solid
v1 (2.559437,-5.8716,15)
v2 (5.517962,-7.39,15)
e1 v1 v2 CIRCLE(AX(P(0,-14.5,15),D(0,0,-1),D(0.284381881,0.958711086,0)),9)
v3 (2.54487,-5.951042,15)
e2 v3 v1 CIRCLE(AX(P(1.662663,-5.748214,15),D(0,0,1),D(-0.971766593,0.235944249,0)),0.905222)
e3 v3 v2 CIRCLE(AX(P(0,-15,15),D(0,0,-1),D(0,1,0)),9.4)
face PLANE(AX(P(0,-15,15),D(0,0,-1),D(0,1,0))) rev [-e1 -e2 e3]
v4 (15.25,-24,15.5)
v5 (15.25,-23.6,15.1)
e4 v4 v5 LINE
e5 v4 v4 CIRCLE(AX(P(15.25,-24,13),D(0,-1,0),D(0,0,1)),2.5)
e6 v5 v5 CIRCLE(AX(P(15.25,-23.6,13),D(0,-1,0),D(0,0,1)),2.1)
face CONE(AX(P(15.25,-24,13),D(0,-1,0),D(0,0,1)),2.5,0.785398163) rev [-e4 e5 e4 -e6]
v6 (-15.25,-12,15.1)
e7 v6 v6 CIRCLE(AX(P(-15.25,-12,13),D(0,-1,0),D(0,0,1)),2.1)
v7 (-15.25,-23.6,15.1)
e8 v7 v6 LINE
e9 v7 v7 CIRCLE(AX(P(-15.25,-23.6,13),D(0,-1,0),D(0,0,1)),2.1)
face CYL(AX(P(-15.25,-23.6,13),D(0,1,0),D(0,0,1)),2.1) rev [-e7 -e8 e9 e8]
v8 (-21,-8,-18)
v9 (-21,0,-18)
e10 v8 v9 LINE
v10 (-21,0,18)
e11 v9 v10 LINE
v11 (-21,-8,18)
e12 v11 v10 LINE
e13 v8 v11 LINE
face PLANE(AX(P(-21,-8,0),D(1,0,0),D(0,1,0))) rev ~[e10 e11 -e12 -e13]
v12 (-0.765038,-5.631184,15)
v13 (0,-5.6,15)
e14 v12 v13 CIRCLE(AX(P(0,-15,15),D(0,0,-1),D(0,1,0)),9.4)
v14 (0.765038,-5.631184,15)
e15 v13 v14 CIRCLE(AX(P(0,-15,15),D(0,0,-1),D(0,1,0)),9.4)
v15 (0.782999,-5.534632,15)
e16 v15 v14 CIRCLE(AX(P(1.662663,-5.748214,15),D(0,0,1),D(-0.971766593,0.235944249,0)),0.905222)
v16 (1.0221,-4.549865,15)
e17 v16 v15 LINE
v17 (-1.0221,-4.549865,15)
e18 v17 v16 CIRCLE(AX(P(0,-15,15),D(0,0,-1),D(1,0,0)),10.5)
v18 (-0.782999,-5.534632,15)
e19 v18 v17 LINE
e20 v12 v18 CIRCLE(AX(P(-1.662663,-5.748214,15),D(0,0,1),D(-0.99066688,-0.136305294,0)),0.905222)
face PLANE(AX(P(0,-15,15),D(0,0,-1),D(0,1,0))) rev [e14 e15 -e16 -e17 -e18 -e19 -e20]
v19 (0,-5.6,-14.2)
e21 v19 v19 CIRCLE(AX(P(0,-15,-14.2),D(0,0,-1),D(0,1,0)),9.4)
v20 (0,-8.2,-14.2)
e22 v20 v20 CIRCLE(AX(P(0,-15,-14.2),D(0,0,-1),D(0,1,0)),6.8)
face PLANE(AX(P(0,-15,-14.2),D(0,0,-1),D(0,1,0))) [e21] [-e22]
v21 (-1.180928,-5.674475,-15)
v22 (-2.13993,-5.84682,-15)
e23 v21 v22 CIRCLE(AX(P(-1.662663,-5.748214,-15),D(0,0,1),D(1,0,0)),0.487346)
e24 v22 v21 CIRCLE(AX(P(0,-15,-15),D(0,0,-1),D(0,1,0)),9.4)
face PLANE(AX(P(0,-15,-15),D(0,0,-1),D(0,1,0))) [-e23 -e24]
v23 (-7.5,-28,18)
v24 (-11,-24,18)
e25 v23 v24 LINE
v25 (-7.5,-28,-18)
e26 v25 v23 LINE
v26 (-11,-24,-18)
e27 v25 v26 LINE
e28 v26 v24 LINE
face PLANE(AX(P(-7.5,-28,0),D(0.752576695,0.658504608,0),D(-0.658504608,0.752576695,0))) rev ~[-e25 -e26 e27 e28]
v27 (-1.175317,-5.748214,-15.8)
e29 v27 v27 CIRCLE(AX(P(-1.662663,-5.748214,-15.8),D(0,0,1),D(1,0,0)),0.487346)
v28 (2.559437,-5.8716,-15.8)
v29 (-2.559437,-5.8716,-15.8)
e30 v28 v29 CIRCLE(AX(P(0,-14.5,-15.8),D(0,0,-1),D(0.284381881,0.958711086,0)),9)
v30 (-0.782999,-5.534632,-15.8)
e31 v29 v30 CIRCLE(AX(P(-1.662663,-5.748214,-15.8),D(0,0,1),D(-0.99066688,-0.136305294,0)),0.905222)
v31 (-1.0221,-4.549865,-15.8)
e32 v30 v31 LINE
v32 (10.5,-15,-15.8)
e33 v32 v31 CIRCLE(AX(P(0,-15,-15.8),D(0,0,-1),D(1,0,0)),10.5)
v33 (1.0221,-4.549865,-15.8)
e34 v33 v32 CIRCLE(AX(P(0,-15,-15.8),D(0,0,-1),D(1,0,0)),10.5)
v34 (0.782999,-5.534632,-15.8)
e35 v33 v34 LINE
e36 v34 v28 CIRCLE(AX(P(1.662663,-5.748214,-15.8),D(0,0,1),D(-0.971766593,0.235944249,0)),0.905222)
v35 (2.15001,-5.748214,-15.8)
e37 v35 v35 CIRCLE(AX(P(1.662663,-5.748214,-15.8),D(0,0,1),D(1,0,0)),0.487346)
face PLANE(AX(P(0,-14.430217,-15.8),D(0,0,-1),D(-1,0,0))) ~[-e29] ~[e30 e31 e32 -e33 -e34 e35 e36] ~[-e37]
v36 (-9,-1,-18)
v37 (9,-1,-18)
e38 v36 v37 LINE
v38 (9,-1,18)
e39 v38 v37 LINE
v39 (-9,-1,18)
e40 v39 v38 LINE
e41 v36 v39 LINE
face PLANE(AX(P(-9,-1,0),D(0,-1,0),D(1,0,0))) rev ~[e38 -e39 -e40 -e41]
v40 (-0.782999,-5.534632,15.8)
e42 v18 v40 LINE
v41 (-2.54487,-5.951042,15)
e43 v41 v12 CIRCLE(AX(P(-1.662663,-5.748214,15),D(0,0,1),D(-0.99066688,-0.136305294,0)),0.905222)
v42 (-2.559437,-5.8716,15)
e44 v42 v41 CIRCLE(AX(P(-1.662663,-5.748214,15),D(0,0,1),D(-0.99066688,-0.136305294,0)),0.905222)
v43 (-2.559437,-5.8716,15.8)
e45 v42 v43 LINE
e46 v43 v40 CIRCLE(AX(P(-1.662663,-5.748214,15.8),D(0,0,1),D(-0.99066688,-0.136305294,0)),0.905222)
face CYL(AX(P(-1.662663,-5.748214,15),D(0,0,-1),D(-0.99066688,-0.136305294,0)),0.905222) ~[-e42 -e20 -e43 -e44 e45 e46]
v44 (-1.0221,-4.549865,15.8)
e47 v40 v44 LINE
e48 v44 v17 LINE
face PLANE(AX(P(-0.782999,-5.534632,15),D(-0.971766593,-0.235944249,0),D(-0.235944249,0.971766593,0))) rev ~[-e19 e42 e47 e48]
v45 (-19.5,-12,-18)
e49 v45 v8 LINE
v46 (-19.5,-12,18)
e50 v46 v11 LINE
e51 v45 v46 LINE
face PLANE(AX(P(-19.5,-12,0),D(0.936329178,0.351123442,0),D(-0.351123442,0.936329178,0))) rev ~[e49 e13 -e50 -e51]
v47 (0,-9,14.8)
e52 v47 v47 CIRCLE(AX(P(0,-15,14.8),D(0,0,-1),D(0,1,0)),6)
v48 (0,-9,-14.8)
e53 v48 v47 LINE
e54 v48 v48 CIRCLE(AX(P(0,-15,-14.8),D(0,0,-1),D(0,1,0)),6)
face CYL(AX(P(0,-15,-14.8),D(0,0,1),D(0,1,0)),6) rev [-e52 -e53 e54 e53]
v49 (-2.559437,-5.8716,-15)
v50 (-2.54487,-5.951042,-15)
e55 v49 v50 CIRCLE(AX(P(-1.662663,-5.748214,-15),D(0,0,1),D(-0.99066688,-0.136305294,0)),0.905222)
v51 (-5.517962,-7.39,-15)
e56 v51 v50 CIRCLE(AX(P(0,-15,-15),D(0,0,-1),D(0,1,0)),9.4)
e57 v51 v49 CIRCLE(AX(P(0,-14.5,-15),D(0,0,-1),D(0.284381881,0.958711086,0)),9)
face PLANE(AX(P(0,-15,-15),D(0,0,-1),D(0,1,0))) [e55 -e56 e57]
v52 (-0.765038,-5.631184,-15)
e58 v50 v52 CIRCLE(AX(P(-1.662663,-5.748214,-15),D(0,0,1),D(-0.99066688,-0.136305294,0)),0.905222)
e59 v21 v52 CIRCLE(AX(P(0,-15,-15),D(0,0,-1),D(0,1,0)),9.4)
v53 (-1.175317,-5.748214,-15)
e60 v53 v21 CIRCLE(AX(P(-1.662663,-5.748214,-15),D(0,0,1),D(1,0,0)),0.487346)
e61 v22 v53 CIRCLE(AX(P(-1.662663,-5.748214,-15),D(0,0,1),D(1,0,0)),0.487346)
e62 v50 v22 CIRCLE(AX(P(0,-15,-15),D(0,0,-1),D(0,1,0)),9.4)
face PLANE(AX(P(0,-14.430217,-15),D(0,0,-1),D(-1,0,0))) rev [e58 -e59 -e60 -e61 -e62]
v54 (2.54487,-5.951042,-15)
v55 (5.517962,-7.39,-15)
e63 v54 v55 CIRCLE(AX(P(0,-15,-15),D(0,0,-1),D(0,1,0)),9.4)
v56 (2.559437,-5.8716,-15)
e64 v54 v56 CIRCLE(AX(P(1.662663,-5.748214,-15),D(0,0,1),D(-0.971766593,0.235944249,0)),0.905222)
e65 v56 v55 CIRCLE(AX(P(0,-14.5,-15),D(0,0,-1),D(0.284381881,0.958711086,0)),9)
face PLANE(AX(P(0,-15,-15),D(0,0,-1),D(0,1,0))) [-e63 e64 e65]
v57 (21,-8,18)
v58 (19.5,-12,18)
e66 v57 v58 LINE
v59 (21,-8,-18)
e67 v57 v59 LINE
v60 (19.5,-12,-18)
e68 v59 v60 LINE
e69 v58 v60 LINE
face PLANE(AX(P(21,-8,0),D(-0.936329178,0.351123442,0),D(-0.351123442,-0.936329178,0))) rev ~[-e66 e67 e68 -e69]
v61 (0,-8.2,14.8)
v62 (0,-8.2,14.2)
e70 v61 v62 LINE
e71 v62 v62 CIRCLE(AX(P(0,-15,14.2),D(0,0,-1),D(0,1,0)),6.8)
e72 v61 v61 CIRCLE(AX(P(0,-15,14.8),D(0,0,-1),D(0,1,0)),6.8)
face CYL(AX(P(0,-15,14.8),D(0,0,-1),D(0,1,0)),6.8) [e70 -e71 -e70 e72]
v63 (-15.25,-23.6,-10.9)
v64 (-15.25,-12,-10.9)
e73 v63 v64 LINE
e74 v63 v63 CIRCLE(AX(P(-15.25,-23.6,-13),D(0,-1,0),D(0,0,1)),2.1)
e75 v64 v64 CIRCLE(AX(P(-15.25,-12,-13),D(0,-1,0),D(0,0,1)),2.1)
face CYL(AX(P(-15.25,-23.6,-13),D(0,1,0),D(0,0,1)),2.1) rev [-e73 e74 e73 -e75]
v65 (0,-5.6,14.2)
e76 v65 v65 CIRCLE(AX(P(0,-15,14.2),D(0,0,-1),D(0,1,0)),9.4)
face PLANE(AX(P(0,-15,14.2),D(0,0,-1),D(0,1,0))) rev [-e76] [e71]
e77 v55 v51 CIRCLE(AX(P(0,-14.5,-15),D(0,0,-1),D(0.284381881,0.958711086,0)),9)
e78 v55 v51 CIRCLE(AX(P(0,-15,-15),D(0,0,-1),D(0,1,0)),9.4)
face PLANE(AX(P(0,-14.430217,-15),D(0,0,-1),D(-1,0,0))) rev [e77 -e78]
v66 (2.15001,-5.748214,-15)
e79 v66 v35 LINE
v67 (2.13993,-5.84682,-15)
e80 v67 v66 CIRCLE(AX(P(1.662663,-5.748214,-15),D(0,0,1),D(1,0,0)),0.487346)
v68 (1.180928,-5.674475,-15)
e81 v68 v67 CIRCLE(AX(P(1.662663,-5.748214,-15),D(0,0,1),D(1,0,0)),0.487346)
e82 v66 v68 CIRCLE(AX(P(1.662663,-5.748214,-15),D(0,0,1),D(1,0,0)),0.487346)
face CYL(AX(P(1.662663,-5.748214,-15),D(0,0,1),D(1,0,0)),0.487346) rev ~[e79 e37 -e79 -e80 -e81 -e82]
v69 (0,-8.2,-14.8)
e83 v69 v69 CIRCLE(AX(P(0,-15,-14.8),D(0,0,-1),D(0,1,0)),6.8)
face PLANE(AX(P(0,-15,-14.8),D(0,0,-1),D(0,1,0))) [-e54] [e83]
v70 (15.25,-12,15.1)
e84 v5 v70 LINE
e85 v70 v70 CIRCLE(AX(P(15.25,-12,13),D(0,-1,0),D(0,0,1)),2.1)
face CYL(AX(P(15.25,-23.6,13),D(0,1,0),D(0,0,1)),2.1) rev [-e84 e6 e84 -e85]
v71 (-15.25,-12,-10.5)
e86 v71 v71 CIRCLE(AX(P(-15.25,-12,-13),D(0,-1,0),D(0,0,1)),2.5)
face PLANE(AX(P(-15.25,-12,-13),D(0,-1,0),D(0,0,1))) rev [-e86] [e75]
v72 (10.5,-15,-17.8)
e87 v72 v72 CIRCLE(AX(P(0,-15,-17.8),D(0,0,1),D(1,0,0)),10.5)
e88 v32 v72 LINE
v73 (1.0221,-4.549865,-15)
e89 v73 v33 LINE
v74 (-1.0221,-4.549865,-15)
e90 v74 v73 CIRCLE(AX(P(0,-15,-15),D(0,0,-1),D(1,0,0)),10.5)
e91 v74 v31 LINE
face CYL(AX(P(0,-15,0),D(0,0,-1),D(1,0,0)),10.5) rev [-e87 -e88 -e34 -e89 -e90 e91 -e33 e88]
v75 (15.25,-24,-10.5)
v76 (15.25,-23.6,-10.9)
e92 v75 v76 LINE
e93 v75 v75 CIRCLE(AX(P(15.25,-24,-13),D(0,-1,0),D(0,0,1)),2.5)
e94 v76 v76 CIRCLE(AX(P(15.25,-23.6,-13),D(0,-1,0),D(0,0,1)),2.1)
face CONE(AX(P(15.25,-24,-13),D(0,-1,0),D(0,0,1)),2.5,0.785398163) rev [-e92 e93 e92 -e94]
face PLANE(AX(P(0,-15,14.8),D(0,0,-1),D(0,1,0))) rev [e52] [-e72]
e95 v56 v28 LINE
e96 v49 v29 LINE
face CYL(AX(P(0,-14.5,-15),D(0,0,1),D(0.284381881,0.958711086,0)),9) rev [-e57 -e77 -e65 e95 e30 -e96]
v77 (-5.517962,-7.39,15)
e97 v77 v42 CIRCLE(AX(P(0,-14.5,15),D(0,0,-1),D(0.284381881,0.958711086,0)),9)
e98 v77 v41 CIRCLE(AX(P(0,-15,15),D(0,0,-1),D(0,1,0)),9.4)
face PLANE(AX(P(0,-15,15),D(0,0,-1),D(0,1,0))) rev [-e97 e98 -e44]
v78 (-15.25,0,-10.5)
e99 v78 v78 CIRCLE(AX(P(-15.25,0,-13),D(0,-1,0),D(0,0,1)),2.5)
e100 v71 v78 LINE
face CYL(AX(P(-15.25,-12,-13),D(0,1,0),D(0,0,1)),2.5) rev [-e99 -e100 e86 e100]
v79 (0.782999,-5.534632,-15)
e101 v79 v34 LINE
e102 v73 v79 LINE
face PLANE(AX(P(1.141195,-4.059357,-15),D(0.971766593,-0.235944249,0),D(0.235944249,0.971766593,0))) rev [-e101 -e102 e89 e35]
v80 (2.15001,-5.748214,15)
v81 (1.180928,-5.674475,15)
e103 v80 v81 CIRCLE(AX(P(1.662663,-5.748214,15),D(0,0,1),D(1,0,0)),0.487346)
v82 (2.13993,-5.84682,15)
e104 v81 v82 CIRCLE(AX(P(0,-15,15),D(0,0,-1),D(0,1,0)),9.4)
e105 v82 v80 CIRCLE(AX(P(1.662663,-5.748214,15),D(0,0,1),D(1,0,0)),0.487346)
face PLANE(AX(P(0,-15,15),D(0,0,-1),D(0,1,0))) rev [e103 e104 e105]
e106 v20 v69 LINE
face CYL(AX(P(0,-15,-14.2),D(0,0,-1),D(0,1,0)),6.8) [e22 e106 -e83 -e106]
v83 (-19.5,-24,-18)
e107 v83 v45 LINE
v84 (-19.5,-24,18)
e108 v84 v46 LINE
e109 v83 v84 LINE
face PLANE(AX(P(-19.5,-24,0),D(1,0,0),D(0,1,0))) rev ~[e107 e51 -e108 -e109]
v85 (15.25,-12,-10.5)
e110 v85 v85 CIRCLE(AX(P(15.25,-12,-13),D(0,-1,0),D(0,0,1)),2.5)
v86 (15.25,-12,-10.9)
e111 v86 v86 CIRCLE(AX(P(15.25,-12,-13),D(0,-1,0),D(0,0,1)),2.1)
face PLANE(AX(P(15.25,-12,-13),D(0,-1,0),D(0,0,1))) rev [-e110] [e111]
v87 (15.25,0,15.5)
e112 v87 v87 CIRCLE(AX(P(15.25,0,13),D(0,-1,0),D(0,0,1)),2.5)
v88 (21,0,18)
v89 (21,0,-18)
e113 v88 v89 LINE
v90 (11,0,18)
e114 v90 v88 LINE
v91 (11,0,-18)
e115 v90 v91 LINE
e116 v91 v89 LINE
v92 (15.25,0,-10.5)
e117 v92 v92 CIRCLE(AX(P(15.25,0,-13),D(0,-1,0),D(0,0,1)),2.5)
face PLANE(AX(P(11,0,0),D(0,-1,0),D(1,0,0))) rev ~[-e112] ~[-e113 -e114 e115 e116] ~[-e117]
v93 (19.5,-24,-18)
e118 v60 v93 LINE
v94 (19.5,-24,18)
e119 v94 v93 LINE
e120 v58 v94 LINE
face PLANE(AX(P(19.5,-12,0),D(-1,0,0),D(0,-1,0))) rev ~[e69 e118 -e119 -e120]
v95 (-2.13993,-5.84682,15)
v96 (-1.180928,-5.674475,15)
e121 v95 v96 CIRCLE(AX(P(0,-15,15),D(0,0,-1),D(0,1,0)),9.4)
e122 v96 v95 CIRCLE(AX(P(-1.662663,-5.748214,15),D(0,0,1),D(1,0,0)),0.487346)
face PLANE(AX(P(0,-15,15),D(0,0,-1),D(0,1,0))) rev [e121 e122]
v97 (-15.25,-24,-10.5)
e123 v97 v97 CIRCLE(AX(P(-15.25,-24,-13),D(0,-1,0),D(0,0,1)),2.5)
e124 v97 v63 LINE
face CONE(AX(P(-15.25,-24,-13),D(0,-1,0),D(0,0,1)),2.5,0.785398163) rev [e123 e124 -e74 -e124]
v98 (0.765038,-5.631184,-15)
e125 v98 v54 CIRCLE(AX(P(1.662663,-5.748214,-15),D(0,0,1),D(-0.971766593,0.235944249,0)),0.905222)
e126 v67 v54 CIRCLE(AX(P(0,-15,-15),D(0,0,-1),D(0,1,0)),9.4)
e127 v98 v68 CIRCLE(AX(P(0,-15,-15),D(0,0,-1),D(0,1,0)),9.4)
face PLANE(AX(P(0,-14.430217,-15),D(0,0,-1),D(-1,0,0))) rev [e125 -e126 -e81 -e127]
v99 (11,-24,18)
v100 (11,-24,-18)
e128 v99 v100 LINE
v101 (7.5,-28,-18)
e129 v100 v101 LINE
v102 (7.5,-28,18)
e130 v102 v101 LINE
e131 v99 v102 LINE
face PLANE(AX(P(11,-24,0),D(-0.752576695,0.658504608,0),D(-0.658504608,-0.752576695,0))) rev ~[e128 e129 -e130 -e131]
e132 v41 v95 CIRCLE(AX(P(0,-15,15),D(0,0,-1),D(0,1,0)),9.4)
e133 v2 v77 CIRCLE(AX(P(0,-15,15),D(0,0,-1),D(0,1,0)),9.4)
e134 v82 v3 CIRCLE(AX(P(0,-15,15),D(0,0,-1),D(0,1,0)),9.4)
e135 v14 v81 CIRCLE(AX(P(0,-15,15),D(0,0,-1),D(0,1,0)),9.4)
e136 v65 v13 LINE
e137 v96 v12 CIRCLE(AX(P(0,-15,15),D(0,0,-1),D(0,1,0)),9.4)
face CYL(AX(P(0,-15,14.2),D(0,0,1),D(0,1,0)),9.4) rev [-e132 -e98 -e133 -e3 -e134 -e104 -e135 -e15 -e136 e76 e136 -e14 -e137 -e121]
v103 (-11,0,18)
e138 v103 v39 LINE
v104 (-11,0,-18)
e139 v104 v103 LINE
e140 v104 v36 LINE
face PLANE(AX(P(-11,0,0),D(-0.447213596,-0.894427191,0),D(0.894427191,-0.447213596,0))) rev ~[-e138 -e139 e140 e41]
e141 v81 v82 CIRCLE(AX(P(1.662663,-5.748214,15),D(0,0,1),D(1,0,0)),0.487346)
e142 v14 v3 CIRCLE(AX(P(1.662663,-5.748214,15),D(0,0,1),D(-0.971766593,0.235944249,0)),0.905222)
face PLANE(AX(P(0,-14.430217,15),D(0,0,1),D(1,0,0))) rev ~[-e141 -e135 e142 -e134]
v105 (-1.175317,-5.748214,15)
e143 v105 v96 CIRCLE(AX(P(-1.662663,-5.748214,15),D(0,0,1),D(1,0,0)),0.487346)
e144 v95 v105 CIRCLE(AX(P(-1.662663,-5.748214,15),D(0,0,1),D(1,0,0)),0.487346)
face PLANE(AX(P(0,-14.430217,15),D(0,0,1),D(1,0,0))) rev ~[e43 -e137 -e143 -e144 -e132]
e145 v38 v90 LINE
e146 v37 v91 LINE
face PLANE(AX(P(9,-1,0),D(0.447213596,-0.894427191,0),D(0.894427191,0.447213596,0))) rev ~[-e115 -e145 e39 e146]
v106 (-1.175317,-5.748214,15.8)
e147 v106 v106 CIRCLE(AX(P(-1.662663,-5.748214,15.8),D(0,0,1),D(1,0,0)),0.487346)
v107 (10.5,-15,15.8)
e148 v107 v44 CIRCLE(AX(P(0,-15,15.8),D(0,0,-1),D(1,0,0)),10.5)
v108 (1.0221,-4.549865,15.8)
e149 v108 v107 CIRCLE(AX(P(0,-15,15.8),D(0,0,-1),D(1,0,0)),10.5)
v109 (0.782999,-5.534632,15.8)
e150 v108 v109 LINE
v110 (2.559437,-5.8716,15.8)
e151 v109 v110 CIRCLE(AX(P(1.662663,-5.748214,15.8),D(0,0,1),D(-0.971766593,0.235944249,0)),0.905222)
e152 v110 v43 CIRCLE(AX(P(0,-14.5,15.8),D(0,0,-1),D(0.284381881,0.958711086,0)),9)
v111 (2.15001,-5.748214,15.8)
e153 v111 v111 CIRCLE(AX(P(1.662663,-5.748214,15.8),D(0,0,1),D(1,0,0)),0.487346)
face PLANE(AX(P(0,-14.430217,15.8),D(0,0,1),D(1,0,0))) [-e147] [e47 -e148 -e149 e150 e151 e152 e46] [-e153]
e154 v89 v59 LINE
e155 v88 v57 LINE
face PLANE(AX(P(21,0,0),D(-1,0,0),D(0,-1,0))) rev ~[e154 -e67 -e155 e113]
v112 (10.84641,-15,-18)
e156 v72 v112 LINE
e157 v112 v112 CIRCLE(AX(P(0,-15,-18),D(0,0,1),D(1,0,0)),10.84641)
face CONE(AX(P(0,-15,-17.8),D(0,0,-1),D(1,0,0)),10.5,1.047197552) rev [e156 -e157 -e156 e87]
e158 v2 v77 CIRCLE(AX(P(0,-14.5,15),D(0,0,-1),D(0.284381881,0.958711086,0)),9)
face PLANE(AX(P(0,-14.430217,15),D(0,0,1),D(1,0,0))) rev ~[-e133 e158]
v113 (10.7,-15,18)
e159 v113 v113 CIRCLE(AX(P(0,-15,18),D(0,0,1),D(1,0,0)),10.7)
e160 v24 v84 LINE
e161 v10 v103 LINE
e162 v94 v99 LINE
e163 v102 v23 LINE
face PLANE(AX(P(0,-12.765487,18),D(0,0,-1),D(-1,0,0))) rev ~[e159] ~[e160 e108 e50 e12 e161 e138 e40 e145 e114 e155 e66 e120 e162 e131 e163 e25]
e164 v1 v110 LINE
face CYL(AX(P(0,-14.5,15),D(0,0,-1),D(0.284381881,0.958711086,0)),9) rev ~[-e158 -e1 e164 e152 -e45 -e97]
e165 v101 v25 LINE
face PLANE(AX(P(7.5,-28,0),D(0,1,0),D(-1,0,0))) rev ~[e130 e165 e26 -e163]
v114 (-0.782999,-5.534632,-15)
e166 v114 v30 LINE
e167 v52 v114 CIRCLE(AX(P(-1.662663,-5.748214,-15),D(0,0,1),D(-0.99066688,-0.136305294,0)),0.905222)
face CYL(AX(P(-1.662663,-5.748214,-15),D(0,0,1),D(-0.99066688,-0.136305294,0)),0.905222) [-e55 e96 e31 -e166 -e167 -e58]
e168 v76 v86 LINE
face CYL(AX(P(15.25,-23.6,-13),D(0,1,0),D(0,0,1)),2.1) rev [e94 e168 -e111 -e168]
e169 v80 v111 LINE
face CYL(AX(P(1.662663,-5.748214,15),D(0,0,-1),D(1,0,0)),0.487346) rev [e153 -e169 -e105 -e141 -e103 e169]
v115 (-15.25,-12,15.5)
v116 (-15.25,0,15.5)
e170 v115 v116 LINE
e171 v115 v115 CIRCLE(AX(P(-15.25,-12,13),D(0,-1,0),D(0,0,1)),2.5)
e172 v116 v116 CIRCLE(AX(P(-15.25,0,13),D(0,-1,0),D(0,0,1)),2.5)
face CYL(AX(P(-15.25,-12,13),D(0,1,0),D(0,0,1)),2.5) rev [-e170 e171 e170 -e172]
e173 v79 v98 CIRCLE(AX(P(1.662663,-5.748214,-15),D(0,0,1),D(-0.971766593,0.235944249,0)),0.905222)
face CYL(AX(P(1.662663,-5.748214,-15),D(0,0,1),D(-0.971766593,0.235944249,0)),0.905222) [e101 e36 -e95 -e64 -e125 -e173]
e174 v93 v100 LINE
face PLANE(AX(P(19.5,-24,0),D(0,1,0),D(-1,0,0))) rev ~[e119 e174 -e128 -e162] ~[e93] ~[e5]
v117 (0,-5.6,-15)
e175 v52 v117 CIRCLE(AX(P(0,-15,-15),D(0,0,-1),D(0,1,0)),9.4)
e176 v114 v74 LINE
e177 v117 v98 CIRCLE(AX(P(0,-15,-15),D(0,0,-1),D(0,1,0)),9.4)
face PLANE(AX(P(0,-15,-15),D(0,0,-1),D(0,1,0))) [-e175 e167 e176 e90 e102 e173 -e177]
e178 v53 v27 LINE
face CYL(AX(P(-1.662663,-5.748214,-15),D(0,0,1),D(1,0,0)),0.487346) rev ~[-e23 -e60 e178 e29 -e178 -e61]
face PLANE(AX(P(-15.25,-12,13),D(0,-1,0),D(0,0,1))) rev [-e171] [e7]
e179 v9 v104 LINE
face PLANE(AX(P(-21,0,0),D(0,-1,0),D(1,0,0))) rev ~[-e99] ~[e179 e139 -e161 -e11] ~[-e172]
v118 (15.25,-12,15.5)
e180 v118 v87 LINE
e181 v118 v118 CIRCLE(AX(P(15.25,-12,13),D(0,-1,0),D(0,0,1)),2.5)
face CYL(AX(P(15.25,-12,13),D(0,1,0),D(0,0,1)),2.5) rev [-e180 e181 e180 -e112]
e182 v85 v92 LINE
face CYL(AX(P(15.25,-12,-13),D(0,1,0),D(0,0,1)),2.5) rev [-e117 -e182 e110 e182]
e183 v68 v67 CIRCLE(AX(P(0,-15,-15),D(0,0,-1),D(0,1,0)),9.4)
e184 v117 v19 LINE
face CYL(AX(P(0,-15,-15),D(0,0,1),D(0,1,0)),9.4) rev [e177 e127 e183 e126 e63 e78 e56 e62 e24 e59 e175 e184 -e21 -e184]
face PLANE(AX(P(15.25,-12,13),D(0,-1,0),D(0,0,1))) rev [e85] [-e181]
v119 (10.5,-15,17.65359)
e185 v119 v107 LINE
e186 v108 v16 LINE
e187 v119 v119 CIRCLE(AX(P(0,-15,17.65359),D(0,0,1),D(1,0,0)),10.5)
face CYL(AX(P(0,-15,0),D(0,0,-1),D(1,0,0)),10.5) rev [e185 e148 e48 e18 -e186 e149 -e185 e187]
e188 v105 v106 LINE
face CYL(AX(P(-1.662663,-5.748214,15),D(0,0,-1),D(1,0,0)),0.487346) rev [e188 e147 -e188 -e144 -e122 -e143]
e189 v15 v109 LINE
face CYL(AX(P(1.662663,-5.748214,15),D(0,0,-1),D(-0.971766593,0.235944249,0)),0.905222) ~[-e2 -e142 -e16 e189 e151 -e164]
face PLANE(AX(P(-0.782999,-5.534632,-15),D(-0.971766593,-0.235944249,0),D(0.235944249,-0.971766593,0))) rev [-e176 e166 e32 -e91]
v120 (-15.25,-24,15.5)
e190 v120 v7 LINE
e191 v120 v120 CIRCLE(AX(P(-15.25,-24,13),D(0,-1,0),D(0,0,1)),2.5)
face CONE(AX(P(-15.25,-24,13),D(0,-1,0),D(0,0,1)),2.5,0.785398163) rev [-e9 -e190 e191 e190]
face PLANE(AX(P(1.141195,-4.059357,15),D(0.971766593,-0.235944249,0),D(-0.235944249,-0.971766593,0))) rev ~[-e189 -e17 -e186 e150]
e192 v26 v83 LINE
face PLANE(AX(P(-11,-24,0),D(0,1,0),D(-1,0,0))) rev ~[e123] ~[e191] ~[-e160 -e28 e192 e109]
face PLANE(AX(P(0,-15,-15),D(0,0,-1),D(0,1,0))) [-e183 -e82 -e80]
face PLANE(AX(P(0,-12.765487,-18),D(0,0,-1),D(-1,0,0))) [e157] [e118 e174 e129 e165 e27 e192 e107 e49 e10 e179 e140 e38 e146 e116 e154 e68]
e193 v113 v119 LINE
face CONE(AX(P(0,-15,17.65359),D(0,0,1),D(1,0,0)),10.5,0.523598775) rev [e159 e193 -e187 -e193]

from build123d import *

# Parameters (mm, degrees)
SKETCH1_R                  = 10.5
BOSS_EXTRUDE1_DEPTH        = 18
SKETCH3_R                  = 0.487346303
BOSS_EXTRUDE2_DEPTH        = 0.8
M5_TAPPED_HOLE1_AT_2_COUNT = 2
M5_TAPPED_HOLE1_AT_2_PITCH = 26
M5_TAPPED_HOLE1_AT_3_COUNT = 2
M5_TAPPED_HOLE1_AT_3_PITCH = 30.5
M5_TAPPED_HOLE1_AT_4_COUNT = 2
M5_TAPPED_HOLE1_AT_4_PITCH = 40.078048855
CHAMFER1_SIZE              = 0.2
CHAMFER1_SIZE2             = 0.346410162
CHAMFER1_PART_2_SIZE       = 0.2
CHAMFER1_PART_2_SIZE2      = 0.346410162


with BuildPart() as part:
    # Sketch1 → Boss-Extrude1 (new body, symmetric)
    with BuildSketch(Plane.XY):
        Polygon((-9, -1), (9, -1), (11, 0), (21, 0), (21, -8), (19.5, -12), (19.5, -24), (11, -24), (7.5, -28), (-7.5, -28), (-11, -24), (-19.5, -24), (-19.5, -12), (-21, -8), (-21, 0), (-11, 0), align=None)
        with Locations((0, -15)):
            Circle(SKETCH1_R, mode=Mode.SUBTRACT)
    extrude(amount=BOSS_EXTRUDE1_DEPTH, both=True)

    # Sketch2 → Revolve1 (revolve)
    with BuildSketch(Plane(origin=(0, 0, 0), x_dir=(0, 0, -1), z_dir=(1, 0, 0))):
        Polygon((-15, -4.5), (15, -4.5), (15, -5.6), (14.2, -5.6), (14.2, -8.2), (14.8, -8.2), (14.8, -9), (-14.8, -9), (-14.8, -8.2), (-14.2, -8.2), (-14.2, -5.6), (-15, -5.6), align=None)
    revolve(axis=Axis((0, -15, 30.2753079), (0, 0, -1)))

    # Sketch3 → Boss-Extrude2 (add)
    with BuildSketch(Plane.XY.offset(15)):
        with BuildLine():
            Line((1.141194716, -4.059356755), (0.782998979, -5.534631753))
            ThreePointArc((0.782998979, -5.534631753), (1.493962208, -6.63757679), (2.559436926, -5.871600228))
            ThreePointArc((2.559436926, -5.871600228), (0, -23.5), (-2.559436926, -5.871600228))
            ThreePointArc((-2.559436926, -5.871600228), (-1.493962208, -6.63757679), (-0.782998979, -5.534631753))
            Line((-0.782998979, -5.534631753), (-1.141194716, -4.059356755))
            ThreePointArc((-1.141194716, -4.059356755), (0, -26), (1.141194716, -4.059356755))
        make_face()
        with Locations((1.662663475, -5.748213677)):
            Circle(SKETCH3_R, mode=Mode.SUBTRACT)
        with Locations((-1.662663475, -5.748213677)):
            Circle(SKETCH3_R, mode=Mode.SUBTRACT)
    boss_extrude2 = extrude(amount=BOSS_EXTRUDE2_DEPTH)

    # Mirror1: Boss-Extrude2 across plane
    add(boss_extrude2.mirror(Plane.XY))

    # Sketch6 → M5 Tapped Hole1 (revolve, cut)
    with BuildSketch(Plane(origin=(15.25, 0, -13), x_dir=(0, 0, 1), z_dir=(1, 0, 0))):
        Polygon((0, 0), (0, 24), (2.5, 24), (2.1, 23.6), (2.1, 12), (2.5, 12), (2.5, 0), align=None)
    m5_tapped_hole1 = revolve(axis=Axis((15.25, 6.35, -13), (0, -1, 0)), mode=Mode.SUBTRACT)

    # M5 Tapped Hole1 at 2: M5 Tapped Hole1 ×2
    with Locations(*[(0, 0, i * M5_TAPPED_HOLE1_AT_2_PITCH) for i in range(1, M5_TAPPED_HOLE1_AT_2_COUNT)]):
        add(m5_tapped_hole1, mode=Mode.SUBTRACT)

    # M5 Tapped Hole1 at 3: M5 Tapped Hole1 ×2
    with Locations(*[(-i * M5_TAPPED_HOLE1_AT_3_PITCH, 0, 0) for i in range(1, M5_TAPPED_HOLE1_AT_3_COUNT)]):
        add(m5_tapped_hole1, mode=Mode.SUBTRACT)

    # M5 Tapped Hole1 at 4: M5 Tapped Hole1 ×2
    with Locations(*[Vector(-0.761015091, 0, 0.648734176) * (i * M5_TAPPED_HOLE1_AT_4_PITCH) for i in range(1, M5_TAPPED_HOLE1_AT_4_COUNT)]):
        add(m5_tapped_hole1, mode=Mode.SUBTRACT)

    # Chamfer1
    chamfer1_edges = [part.edges().sort_by_distance(p)[0] for p in [
        (-10.5, -15, -18),
    ]]
    chamfer1_side = [part.faces().sort_by_distance(p)[0] for p in [
        (-10.5, -15, -16.5),
    ]]
    chamfer(chamfer1_edges, length=CHAMFER1_SIZE, length2=CHAMFER1_SIZE2, reference=chamfer1_side[0])

    # Chamfer1 part 2
    chamfer1_part_2_edges = [part.edges().sort_by_distance(p)[0] for p in [
        (-10.5, -15, 18),
    ]]
    chamfer1_part_2_side = [part.faces().sort_by_distance(p)[0] for p in [
        (0, -1.504777179, 18),
    ]]
    chamfer(chamfer1_part_2_edges, length=CHAMFER1_PART_2_SIZE, length2=CHAMFER1_PART_2_SIZE2, reference=chamfer1_part_2_side[0])


solid = part.part
